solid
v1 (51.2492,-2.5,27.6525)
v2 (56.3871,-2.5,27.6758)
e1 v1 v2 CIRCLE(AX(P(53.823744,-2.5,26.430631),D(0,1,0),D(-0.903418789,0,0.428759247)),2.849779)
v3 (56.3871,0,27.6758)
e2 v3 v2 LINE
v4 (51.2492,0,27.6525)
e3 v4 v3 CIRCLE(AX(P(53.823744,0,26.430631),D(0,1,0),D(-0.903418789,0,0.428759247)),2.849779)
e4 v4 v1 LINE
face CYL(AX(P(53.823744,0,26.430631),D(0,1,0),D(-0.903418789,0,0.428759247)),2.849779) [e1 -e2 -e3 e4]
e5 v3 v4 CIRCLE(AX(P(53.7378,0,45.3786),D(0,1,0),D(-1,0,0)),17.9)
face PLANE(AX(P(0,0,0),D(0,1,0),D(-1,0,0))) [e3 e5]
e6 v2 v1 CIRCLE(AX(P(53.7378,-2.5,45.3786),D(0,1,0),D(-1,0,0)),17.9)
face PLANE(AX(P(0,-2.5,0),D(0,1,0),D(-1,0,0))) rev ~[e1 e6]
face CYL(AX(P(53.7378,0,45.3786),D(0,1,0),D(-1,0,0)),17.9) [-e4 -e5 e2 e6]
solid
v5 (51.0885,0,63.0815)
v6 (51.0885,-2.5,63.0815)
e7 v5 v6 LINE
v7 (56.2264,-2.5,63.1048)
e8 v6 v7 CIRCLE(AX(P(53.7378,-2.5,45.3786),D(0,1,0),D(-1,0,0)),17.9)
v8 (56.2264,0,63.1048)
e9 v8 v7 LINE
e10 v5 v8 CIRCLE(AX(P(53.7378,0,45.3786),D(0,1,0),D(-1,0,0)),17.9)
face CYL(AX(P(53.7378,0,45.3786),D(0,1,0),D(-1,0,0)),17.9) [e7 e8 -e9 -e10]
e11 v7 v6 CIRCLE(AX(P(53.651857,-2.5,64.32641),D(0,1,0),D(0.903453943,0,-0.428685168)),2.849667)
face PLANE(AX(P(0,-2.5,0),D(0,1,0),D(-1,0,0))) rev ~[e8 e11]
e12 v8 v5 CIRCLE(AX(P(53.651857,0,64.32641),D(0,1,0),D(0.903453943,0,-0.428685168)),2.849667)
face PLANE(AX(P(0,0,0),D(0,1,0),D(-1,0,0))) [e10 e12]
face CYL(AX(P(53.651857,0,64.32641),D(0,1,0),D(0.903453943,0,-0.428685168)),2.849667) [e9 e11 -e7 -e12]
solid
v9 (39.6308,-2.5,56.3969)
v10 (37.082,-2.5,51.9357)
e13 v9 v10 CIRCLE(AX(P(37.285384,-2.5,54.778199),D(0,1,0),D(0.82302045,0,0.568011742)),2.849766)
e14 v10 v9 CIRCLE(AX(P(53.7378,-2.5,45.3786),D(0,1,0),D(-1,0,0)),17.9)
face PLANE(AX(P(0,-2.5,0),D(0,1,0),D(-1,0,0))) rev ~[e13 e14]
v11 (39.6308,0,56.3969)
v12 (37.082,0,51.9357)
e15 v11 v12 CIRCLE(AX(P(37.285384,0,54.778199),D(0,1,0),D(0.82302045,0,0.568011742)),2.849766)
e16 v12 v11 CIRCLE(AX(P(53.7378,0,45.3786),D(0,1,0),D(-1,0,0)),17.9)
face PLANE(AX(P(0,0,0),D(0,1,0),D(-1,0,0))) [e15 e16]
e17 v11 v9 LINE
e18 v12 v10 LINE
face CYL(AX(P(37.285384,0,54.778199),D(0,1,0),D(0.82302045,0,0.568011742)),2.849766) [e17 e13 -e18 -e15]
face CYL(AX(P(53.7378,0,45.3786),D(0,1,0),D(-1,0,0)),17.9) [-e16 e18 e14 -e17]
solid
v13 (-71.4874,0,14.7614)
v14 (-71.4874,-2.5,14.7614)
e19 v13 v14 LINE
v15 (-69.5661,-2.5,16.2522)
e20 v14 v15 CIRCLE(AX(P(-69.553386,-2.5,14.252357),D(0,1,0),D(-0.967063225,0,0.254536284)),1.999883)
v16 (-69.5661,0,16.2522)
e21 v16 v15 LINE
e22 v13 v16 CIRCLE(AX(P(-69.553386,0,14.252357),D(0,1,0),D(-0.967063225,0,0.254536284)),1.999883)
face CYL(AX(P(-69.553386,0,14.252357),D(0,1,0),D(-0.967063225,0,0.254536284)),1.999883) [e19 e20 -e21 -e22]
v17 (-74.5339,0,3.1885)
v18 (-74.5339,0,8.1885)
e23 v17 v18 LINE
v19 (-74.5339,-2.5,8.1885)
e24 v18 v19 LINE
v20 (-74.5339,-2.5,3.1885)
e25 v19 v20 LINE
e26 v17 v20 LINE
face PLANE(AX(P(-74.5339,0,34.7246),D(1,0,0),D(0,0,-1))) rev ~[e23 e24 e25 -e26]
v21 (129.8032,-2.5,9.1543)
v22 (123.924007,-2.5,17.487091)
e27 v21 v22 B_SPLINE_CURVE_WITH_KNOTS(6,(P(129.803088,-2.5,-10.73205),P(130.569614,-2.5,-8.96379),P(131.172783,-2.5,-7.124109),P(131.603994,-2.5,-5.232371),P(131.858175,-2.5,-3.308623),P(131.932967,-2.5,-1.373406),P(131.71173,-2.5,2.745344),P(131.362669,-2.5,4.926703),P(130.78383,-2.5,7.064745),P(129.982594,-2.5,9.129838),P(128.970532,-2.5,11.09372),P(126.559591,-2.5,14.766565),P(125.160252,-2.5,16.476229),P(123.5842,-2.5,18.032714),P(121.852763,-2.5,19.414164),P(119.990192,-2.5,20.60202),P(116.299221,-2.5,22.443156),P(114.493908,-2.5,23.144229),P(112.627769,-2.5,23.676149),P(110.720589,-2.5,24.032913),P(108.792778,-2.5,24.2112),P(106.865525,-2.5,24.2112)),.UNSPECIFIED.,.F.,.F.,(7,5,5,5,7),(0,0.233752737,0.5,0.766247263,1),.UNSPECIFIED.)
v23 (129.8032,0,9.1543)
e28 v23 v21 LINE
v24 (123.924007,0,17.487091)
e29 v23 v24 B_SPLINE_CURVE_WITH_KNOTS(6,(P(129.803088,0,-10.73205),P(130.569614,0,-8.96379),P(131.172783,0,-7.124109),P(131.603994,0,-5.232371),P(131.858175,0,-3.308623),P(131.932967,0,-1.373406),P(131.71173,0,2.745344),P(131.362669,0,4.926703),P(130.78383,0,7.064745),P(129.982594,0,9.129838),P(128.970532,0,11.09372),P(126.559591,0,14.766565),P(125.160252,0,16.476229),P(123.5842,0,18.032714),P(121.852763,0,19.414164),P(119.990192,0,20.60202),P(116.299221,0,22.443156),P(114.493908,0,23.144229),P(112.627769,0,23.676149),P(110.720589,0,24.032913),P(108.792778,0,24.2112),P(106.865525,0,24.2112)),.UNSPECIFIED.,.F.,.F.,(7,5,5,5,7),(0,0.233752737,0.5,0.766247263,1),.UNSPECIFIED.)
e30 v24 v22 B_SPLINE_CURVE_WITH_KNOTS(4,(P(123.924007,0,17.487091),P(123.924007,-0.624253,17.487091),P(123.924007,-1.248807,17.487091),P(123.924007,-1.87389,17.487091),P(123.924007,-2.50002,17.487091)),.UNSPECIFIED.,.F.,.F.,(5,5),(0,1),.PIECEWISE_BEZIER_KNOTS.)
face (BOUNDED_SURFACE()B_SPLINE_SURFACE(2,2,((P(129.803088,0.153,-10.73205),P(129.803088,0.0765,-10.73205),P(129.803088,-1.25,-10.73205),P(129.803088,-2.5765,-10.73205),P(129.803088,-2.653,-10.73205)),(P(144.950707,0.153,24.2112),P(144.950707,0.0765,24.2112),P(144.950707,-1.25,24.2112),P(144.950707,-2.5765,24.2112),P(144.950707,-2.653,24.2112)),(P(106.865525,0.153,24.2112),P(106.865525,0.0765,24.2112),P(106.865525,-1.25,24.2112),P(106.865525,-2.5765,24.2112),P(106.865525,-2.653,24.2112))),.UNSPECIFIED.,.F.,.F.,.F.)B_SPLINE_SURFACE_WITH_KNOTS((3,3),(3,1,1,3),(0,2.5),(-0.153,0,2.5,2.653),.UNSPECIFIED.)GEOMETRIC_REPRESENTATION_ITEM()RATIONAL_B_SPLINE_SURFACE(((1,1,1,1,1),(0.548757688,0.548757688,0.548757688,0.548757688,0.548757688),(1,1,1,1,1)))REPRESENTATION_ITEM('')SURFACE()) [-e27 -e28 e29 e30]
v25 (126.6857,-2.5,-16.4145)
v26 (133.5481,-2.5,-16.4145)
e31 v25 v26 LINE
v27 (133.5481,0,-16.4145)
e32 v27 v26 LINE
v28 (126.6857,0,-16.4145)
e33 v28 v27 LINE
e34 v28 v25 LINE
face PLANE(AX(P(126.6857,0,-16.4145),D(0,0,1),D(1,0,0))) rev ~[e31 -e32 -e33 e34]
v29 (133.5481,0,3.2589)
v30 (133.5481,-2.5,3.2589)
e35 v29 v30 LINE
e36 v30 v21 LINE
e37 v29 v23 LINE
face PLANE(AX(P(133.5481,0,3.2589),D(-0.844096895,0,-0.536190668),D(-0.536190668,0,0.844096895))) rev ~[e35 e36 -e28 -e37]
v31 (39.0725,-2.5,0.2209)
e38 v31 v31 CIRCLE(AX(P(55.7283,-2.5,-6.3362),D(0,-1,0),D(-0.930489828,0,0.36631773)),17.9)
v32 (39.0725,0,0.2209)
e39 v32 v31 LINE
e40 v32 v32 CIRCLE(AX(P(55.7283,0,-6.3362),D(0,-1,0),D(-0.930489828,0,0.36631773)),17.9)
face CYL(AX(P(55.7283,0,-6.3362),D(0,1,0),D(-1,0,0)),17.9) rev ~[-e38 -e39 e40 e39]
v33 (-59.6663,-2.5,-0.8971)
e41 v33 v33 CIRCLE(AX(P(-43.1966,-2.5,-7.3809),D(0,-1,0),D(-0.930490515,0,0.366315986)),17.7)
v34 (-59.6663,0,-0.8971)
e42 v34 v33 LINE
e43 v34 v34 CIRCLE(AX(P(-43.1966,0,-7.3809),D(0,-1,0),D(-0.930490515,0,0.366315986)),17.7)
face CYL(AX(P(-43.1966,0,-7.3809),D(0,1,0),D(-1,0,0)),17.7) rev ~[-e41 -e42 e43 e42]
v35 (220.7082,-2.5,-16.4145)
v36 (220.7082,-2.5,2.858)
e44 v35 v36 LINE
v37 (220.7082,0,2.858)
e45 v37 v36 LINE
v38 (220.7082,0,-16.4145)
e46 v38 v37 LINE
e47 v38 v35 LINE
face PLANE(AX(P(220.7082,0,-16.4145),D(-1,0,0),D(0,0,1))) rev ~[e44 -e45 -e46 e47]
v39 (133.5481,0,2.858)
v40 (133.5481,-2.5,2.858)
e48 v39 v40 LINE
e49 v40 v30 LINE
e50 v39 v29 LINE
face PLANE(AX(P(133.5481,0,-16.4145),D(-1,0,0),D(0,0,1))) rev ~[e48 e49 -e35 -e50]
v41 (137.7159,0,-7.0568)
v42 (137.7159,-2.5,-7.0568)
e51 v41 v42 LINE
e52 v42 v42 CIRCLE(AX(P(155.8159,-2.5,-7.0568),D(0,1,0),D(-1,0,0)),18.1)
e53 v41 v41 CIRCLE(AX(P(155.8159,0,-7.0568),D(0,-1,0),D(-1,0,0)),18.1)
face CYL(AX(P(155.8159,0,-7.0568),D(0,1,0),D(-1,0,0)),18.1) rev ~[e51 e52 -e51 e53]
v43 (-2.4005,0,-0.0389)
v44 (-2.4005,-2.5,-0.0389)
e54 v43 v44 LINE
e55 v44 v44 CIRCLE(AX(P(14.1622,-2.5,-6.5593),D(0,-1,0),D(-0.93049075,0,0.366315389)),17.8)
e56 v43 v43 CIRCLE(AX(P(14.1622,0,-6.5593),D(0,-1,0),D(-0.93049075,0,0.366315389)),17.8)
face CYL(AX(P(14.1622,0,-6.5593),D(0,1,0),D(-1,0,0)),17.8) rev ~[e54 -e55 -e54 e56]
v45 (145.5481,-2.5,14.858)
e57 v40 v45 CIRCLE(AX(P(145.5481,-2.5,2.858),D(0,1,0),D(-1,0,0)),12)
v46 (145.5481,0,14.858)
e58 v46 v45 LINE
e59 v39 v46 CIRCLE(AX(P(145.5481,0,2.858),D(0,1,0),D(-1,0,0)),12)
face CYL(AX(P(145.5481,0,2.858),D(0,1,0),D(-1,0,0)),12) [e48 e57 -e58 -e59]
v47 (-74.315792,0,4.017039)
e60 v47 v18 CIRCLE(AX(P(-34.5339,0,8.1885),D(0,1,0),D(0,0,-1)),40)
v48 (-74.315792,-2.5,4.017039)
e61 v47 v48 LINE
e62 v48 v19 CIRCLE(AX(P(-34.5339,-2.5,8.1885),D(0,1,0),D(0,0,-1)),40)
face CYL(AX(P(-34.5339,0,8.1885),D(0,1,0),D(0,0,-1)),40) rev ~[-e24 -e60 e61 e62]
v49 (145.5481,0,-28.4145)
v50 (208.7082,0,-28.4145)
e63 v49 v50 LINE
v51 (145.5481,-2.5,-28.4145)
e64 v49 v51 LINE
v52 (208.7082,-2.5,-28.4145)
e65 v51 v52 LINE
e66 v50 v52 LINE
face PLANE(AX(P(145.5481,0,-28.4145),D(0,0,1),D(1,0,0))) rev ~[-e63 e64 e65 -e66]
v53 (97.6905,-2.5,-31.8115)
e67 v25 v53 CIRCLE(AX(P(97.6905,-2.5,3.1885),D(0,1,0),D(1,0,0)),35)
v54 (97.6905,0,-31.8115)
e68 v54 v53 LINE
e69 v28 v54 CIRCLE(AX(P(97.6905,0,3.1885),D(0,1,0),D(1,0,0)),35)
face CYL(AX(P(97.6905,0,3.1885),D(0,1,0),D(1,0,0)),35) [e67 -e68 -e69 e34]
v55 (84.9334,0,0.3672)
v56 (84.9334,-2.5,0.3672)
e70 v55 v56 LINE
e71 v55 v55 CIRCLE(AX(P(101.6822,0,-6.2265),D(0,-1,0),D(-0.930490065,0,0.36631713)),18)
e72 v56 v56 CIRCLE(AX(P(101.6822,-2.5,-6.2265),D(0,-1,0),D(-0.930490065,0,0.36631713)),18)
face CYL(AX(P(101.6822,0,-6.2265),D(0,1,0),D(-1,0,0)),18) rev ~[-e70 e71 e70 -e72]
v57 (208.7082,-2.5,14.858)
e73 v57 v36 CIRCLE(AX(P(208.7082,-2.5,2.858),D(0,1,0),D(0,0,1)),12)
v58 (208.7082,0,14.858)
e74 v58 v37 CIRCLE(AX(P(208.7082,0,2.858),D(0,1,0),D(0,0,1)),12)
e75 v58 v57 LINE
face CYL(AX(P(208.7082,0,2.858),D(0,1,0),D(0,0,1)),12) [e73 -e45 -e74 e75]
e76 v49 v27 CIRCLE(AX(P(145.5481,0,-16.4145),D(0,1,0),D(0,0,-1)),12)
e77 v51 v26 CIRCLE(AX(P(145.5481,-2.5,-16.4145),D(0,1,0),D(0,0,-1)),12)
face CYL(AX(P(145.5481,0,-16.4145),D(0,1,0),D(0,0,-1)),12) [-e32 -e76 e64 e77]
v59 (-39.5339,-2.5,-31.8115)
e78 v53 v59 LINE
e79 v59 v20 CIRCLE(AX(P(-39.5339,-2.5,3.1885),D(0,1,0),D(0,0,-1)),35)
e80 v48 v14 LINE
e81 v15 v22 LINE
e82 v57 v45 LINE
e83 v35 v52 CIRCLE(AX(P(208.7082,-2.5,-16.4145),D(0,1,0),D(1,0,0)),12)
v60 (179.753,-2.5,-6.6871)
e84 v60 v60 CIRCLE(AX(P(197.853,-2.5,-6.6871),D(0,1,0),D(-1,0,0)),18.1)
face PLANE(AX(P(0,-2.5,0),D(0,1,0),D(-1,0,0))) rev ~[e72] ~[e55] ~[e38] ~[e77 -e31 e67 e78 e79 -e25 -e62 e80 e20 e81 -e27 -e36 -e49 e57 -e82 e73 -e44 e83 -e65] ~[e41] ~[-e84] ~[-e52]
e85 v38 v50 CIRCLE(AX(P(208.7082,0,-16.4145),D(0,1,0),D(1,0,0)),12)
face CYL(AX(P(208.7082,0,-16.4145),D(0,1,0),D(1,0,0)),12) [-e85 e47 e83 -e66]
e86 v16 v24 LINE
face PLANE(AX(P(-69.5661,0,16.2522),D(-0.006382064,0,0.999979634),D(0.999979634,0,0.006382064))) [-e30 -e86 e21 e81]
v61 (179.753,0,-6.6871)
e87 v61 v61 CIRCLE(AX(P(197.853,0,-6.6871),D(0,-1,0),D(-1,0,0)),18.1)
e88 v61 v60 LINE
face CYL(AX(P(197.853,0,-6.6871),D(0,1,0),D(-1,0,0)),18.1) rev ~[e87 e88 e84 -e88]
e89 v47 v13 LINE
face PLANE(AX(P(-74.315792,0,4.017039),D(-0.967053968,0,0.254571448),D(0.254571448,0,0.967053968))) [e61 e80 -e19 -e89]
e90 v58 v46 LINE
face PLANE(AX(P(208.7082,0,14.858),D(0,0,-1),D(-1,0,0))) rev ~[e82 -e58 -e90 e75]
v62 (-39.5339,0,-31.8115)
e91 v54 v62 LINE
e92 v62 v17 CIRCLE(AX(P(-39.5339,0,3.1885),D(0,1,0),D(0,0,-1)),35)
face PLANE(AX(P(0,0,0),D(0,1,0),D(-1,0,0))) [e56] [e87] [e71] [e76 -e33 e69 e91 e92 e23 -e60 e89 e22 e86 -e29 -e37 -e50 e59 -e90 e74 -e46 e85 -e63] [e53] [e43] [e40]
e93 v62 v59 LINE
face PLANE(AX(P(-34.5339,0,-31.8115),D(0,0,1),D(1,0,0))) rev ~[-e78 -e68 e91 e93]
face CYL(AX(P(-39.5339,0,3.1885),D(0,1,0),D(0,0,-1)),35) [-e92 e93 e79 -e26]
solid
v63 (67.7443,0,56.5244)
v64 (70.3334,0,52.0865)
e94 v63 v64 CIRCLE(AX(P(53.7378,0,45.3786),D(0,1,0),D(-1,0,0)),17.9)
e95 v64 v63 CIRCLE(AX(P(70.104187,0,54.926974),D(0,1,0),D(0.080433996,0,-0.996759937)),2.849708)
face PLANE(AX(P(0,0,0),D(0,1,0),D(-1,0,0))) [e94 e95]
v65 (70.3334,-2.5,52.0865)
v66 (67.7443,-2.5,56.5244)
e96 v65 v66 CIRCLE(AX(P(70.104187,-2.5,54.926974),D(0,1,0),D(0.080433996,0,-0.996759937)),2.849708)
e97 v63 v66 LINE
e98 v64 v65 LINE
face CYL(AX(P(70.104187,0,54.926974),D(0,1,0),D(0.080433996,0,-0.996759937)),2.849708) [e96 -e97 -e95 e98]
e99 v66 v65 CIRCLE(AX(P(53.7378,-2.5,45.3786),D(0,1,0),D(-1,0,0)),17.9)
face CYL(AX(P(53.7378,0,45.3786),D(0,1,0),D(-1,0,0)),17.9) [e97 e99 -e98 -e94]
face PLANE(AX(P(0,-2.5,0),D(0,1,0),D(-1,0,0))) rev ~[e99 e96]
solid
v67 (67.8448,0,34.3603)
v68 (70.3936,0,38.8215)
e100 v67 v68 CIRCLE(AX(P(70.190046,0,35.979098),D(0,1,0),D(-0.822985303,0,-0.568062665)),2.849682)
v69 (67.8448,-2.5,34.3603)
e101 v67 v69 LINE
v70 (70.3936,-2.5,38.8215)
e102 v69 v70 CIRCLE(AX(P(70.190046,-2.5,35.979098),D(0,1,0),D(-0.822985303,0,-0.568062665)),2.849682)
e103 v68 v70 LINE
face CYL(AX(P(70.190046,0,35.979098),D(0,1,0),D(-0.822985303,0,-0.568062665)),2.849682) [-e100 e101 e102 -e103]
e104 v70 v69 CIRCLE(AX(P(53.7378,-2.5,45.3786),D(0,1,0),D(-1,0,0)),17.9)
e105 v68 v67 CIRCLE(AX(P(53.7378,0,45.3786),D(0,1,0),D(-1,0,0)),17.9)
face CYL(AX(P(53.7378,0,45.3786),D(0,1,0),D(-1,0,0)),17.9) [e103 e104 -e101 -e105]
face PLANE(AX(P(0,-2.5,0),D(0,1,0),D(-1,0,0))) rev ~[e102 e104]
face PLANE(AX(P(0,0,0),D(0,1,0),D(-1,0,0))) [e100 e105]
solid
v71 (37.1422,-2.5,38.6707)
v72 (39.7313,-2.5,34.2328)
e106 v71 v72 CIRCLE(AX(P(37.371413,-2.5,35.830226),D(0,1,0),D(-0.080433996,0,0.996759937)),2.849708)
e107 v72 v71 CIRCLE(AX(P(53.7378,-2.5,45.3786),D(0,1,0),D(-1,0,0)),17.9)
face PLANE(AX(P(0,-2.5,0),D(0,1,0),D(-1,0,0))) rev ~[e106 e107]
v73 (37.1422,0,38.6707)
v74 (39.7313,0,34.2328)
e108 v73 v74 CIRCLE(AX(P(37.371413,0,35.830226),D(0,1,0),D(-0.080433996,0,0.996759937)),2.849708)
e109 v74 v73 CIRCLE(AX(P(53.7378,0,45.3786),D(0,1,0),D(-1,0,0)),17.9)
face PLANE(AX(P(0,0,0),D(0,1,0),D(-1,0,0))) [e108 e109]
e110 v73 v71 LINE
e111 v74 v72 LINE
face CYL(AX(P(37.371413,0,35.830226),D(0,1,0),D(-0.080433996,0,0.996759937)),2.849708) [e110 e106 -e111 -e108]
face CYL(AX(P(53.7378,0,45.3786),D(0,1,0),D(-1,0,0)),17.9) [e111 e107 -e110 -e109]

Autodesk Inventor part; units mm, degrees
ref_plane "YZ Plane" through (0, 0, 0) normal (1, 0, 0) x (0, 1, 0)
ref_plane "XZ Plane" through (0, 0, 0) normal (0, 1, 0) x (-1, 0, 0)
ref_plane "XY Plane" through (0, 0, 0) normal (0, 0, 1) x (1, 0, 0)
sketch "BASEsc" plane through (0, 0, 0) normal (0, 1, 0) x (-1, 0, 0)
  arc A0 (-30.7364, -0.0681) -> (-28.0904, 4.5242) centre (-30.3216, 2.7513) ccw
  arc A1 (-16.8277, 11.04) -> (-11.5277, 11.0446) centre (-14.1786, 12.0904) ccw
  arc A2 (-11.4967, -24.1586) -> (-16.7967, -24.1633) centre (-14.1458, -25.2091) ccw
  arc A3 (-0.2535, 4.5487) -> (2.4005, -0.0389) centre (1.9807, 2.7798) ccw
  arc A4 (-28.0709, -17.6674) -> (-30.7249, -13.0798) centre (-30.3051, -15.8984) ccw
  circle A5 centre (-14.1622, -6.5593) radius 17.8
  arc A6 (2.412, -13.0506) -> (-0.234, -17.6429) centre (1.9972, -15.87) ccw
  circle A7 centre (-55.7283, -6.3362) radius 17.9
  arc A8 (-58.3938, 11.2631) -> (-53.0938, 11.2678) centre (-55.7447, 12.3136) ccw
  arc A9 (-41.8196, 4.7719) -> (-39.1656, 0.1843) centre (-39.5854, 3.0029) ccw
  arc A10 (-72.3025, 0.1551) -> (-69.6565, 4.7474) centre (-71.8877, 2.9745) ccw
  arc A11 (-69.637, -17.4442) -> (-72.291, -12.8566) centre (-71.8712, -15.6753) ccw
  arc A12 (-53.0767, -24.0387) -> (-58.3776, -24.039) centre (-55.7271, -25.0859) ccw
  arc A13 (-39.1541, -12.8274) -> (-41.8001, -17.4197) centre (-39.569, -15.6468) ccw
  circle A14 centre (-101.6822, -6.2265) radius 18
  arc A15 (-99.0445, -24.0322) -> (-104.3463, -24.0282) centre (-101.6962, -25.0761) ccw
  arc A16 (-39.0717, -12.8911) -> (-41.7218, -17.4819) centre (-39.49, -15.71) ccw
  arc A17 (-41.7233, 4.8114) -> (-39.0725, 0.2209) centre (-39.4912, 3.0397) ccw
  arc A18 (-58.3799, 11.3664) -> (-53.079, 11.3667) centre (-55.7295, 12.4135) ccw
  arc A19 (-72.3849, 0.2188) -> (-69.7348, 4.8096) centre (-71.9666, 3.0377) ccw
  arc A20 (-69.7334, -17.4837) -> (-72.3841, -12.8932) centre (-71.9654, -15.7121) ccw
  circle A21 centre (43.1966, -7.3809) radius 17.7
  arc A22 (45.8761, -24.8769) -> (40.5769, -24.886) centre (43.2283, -25.9306) ccw
  circle A23 centre (45.2732, 42.9601) radius 17.7
  arc A24 (47.7889, 25.4398) -> (42.6535, 25.455) centre (45.2175, 24.2112) ccw
  arc A25 (-51.2492, 27.6525) -> (-56.3871, 27.6758) centre (-53.8237, 26.4307) ccw
  circle A26 centre (-53.7378, 45.3786) radius 17.9
  arc A27 (-84.9432, -12.845) -> (-87.5975, -17.4345) centre (-85.365, -15.6634) ccw
  arc A28 (-87.5809, 4.9607) -> (-84.9334, 0.3672) centre (-85.351, 3.1862) ccw
  arc A29 (-104.3199, 11.5792) -> (-99.0181, 11.5753) centre (-101.6682, 12.6231) ccw
  arc A30 (-118.4212, 0.3921) -> (-115.7669, 4.9816) centre (-117.9994, 3.2104) ccw
  arc A31 (-115.7835, -17.4136) -> (-118.431, -12.8202) centre (-118.0134, -15.6392) ccw
  arc A32 (-37.1422, 38.6707) -> (-39.7313, 34.2328) centre (-37.3714, 35.8302) ccw
  arc A33 (-39.6308, 56.3969) -> (-37.082, 51.9357) centre (-37.2854, 54.7782) ccw
  arc A34 (-56.2264, 63.1048) -> (-51.0885, 63.0815) centre (-53.6518, 64.3265) ccw
  arc A35 (-70.3334, 52.0865) -> (-67.7443, 56.5244) centre (-70.1042, 54.927) ccw
  arc A36 (-67.8448, 34.3603) -> (-70.3936, 38.8215) centre (-70.1901, 35.9791) ccw
  arc A37 (61.7041, 36.3785) -> (59.1232, 31.9388) centre (61.4824, 33.5374) ccw
  arc A38 (59.1885, 53.8989) -> (61.7429, 49.4439) centre (61.5381, 52.2863) ccw
  arc A39 (42.7576, 60.4804) -> (47.8929, 60.4652) centre (45.3289, 61.7089) ccw
  arc A40 (28.8424, 49.5417) -> (31.4233, 53.9813) centre (29.0641, 52.3828) ccw
  arc A41 (31.358, 32.0213) -> (28.8036, 36.4763) centre (29.0084, 33.6339) ccw
  arc A42 (59.6883, -13.8084) -> (57.0466, -18.4022) centre (59.2769, -16.6283) ccw
  arc A43 (57.0088, 3.6876) -> (59.6663, -0.8971) centre (59.2452, 1.9214) ccw
  arc A44 (40.5171, 10.1151) -> (45.8163, 10.1242) centre (43.1649, 11.1688) ccw
  arc A45 (26.7049, -0.9534) -> (29.3466, 3.6404) centre (27.1162, 1.8665) ccw
  arc A46 (29.3843, -18.4494) -> (26.7269, -13.8647) centre (27.1479, -16.6832) ccw
  line L0 (39.5339, -31.8115) -> (-97.6905, -31.8115)
  line L1 (-132.6905, 3.1885) -> (-132.6905, 34.7246)
  line L2 (-76.3868, 69.7246) -> (-21.7967, 69.7246)
  line L3 (74.5339, 34.7246) -> (74.5339, 3.1885)
  arc A47 (34.5339, -31.8115) -> (74.5339, 8.1885) centre (34.5339, 8.1885) ccw
  arc A48 (74.5339, 34.7246) -> (39.5339, 69.7246) centre (39.5339, 34.7246) ccw
  arc A49 (39.5339, -31.8115) -> (74.5339, 3.1885) centre (39.5339, 3.1885) ccw
  arc A50 (-132.6905, 3.1885) -> (-97.6905, -31.8115) centre (-97.6905, 3.1885) ccw
  arc A51 (-97.6905, 69.7246) -> (-132.6905, 34.7246) centre (-97.6905, 34.7246) ccw
  line L4 (-86.3868, 24.2112) -> (-132.6905, 24.2112)
  line L5 (-132.6905, 24.2112) -> (-132.6905, 69.7246)
  line L6 (-132.6905, 69.7246) -> (-81.3868, 69.7246)
  line L7 (-81.3868, 64.7246) -> (-81.3868, 29.2112)
  line L8 (14.5191, 69.7246) -> (-16.7967, 69.7246)
  line L9 (-16.7967, 64.7246) -> (-16.7967, 23.9565)
  line L10 (-11.7967, 18.9565) -> (9.5191, 18.9565)
  line L11 (14.5191, 23.9565) -> (14.5191, 69.7246)
  arc A52 (9.5191, 18.9565) -> (14.5191, 23.9565) centre (9.5191, 23.9565) ccw
  arc A53 (-16.7967, 23.9565) -> (-11.7967, 18.9565) centre (-11.7967, 23.9565) ccw
  arc A54 (-86.3868, 24.2112) -> (-81.3868, 29.2112) centre (-86.3868, 29.2112) ccw
  arc A55 (-76.3868, 69.7246) -> (-81.3868, 64.7246) centre (-76.3868, 64.7246) ccw
  arc A56 (-16.7967, 64.7246) -> (-21.7967, 69.7246) centre (-21.7967, 64.7246) ccw
  line L12 (39.5339, 69.7246) -> (-21.7967, 69.7246)
  line L13 (74.5339, 3.1885) -> (71.4874, 14.7614)
  line L14 (69.5661, 16.2522) -> (-124.7088, 17.4921)
  line L15 (-126.5328, 16.3402) -> (-132.6905, 3.1885)
  arc A57 (71.4874, 14.7614) -> (69.5661, 16.2522) centre (69.5533, 14.2523) ccw
  arc A58 (-124.7088, 17.4921) -> (-126.5328, 16.3402) centre (-124.7215, 15.4921) ccw
  circle A59 centre (-155.8159, -7.0568) radius 18.1
  arc A60 (-153.1971, -24.9663) -> (-158.4461, -24.9646) centre (-155.8219, -25.965) ccw
  arc A61 (-138.9964, -13.7436) -> (-141.6223, -18.2885) centre (-139.4438, -16.5161) ccw
  arc A62 (-141.6152, 4.166) -> (-138.9922, -0.3806) centre (-139.4379, 2.3922) ccw
  arc A63 (-158.4347, 10.8528) -> (-153.1858, 10.8511) centre (-155.8099, 11.8515) ccw
  arc A64 (-172.6354, -0.3699) -> (-170.0095, 4.175) centre (-172.188, 2.4026) ccw
  arc A65 (-170.0166, -18.2795) -> (-172.6397, -13.7329) centre (-172.194, -16.5057) ccw
  arc A66 (-183.6523, 4.5357) -> (-181.0293, -0.0109) centre (-181.475, 2.7619) ccw
  arc A67 (-200.4718, 11.2225) -> (-195.2229, 11.2208) centre (-197.847, 12.2212) ccw
  arc A68 (-214.6725, -0.0003) -> (-212.0466, 4.5446) centre (-214.2251, 2.7723) ccw
  arc A69 (-212.0537, -17.9098) -> (-214.6768, -13.3632) centre (-214.2311, -16.136) ccw
  arc A70 (-195.2342, -24.5966) -> (-200.4832, -24.595) centre (-197.859, -25.5954) ccw
  circle A71 centre (-197.853, -6.6871) radius 18.1
  arc A72 (-181.0335, -13.3739) -> (-183.6594, -17.9188) centre (-181.481, -16.1464) ccw
  line L16 (-145.5481, -28.4145) -> (-208.7082, -28.4145)
  line L17 (-220.7082, -16.4145) -> (-220.7082, 2.858)
  line L18 (-208.7082, 14.858) -> (-145.5481, 14.858)
  line L19 (-133.5481, 2.858) -> (-133.5481, -16.4145)
  arc A73 (-145.5481, -28.4145) -> (-133.5481, -16.4145) centre (-145.5481, -16.4145) ccw
  arc A74 (-220.7082, -16.4145) -> (-208.7082, -28.4145) centre (-208.7082, -16.4145) ccw
  arc A75 (-208.7082, 14.858) -> (-220.7082, 2.858) centre (-208.7082, 2.858) ccw
  arc A76 (-133.5481, 2.858) -> (-145.5481, 14.858) centre (-145.5481, 2.858) ccw
  point P0 (0, 0)
  point P1 (-14.1467, -24.3593)
  point P2 (-27.8531, 1.3272)
  point P3 (-14.1777, 9.2407)
  point P4 (-14.1467, -22.3593)
  point P5 (-0.4868, 1.3541)
  point P6 (-27.8376, -14.4728)
  point P7 (-0.4712, -14.4459)
  point P8 (-41.5661, 0.2232)
  point P9 (-55.7127, -24.2361)
  point P10 (-55.7438, 9.4638)
  point P11 (-42.0529, 1.5773)
  point P12 (-69.4193, 1.5504)
  point P13 (-69.4038, -14.2496)
  point P14 (-55.7127, -22.2361)
  point P15 (-42.0374, -14.2227)
  point P16 (-87.52, 0.3329)
  point P17 (-101.6665, -24.2265)
  point P18 (-101.6977, 9.5735)
  point P19 (-88.0068, 1.6869)
  point P20 (-115.3732, 1.6601)
  point P21 (-115.3576, -14.1399)
  point P22 (-101.6665, -22.2265)
  point P23 (-87.9913, -14.1131)
  point P24 (-41.9507, -14.2726)
  point P25 (-41.9663, 1.6273)
  point P26 (-55.7439, 9.5638)
  point P27 (-69.5059, 1.6003)
  point P28 (-69.4903, -14.2997)
  point P29 (57.3588, -0.8216)
  point P30 (29.5211, -15.2943)
  point P31 (56.872, 0.5325)
  point P32 (43.212, -25.0809)
  point P33 (29.5056, 0.5057)
  point P34 (43.1811, 8.4191)
  point P35 (56.8875, -15.2675)
  point P36 (43.212, -23.0809)
  point P37 (59.4354, 49.5194)
  point P38 (31.5978, 35.0467)
  point P39 (58.9487, 50.8735)
  point P40 (45.2887, 25.2601)
  point P41 (31.5823, 50.8467)
  point P42 (45.2577, 58.7601)
  point P43 (58.9642, 35.0735)
  point P44 (45.2887, 27.0601)
  point P45 (-40.0468, 37.492)
  point P46 (-39.5756, 51.9379)
  point P47 (-40.0623, 53.292)
  point P48 (-53.7222, 29.2786)
  point P49 (-53.7222, 27.4786)
  point P50 (-53.7533, 61.1786)
  point P51 (-67.4287, 53.2652)
  point P52 (-67.4132, 37.4652)
  point P53 (-87.818, -14.2129)
  point P54 (-87.8336, 1.7871)
  point P55 (-101.6979, 9.7735)
  point P56 (-115.5464, 1.7599)
  point P57 (-115.5308, -14.2401)
  point P58 (-39.787, 37.3421)
  point P59 (-39.8026, 53.4421)
  point P60 (-53.7534, 61.4786)
  point P61 (-67.6886, 53.4151)
  point P62 (-67.673, 37.3151)
  point P63 (59.0507, 35.0234)
  point P64 (59.0353, 50.9234)
  point P65 (45.2578, 58.8601)
  point P66 (31.4957, 50.8967)
  point P67 (31.5111, 34.9967)
  point P68 (56.8009, -15.2175)
  point P69 (56.7855, 0.4824)
  point P70 (43.1812, 8.3191)
  point P71 (29.5923, 0.4557)
  point P72 (29.6077, -15.2442)
  point P73 (-97.6905, 69.7246)
  point P74 (-16.7967, 69.7246)
  point P75 (-67.8448, 34.3603)
  point P76 (-39.7313, 34.2328)
  point P77 (-37.1422, 38.6707)
  point P78 (-37.082, 51.9357)
  point P79 (-51.0885, 63.0815)
  point P80 (-67.7443, 56.5244)
  point P81 (-70.3334, 52.0865)
  point P82 (-118.431, -12.8202)
  point P83 (-115.7835, -17.4136)
  point P84 (-87.5975, -17.4345)
  point P85 (-84.9334, 0.3672)
  point P86 (-87.5809, 4.9607)
  point P87 (-104.3199, 11.5792)
  point P88 (-115.7669, 4.9816)
  point P89 (-118.4212, 0.3921)
  point P90 (-72.3841, -12.8932)
  point P91 (-39.0725, 0.2209)
  point P92 (-41.7233, 4.8114)
  point P93 (-53.079, 11.3667)
  point P94 (-58.3799, 11.3664)
  point P95 (-69.7348, 4.8096)
  point P96 (-72.3849, 0.2188)
  point P97 (-0.234, -17.6429)
  point P98 (2.412, -13.0506)
  point P99 (2.4005, -0.0389)
  point P100 (-0.2535, 4.5487)
  point P101 (-11.5277, 11.0446)
  point P102 (-16.8277, 11.04)
  point P103 (-28.0904, 4.5242)
  point P104 (-30.7364, -0.0681)
  point P105 (-28.0709, -17.6674)
  point P106 (29.3843, -18.4494)
  point P107 (59.6883, -13.8084)
  point P108 (59.6663, -0.8971)
  point P109 (57.0088, 3.6876)
  point P110 (40.5171, 10.1151)
  point P111 (29.3466, 3.6404)
  point P112 (26.7049, -0.9534)
  point P113 (47.8929, 60.4652)
  point P114 (31.4233, 53.9813)
  point P115 (28.8424, 49.5417)
  point P116 (74.3158, 4.017)
  point P117 (-141.6537, -0.4974)
  point P118 (-169.4914, -14.9702)
  point P119 (-142.1405, 0.8567)
  point P120 (-155.7964, -25.1567)
  point P121 (-169.5069, 0.8298)
  point P122 (-155.8314, 8.7432)
  point P123 (-142.125, -14.9433)
  point P124 (-155.7988, -23.1567)
  point P125 (-141.8644, -15.092)
  point P126 (-141.8814, 1.008)
  point P127 (-155.833, 9.0432)
  point P128 (-169.7674, 0.9785)
  point P129 (-169.7504, -15.1215)
  point P130 (-151.8242, 2.3582)
  point P131 (-183.6908, -0.1277)
  point P132 (-184.1776, 1.2264)
  point P133 (-211.5285, -14.6005)
  point P134 (-183.9186, 1.3777)
  point P135 (-197.8701, 9.4129)
  point P136 (-211.8046, 1.3481)
  point P137 (-211.7875, -14.7518)
  point P138 (-184.1621, -14.5736)
  point P139 (-197.8685, 9.1129)
  point P140 (-197.8335, -24.7871)
  point P141 (-197.836, -22.7871)
  point P142 (-211.544, 1.1995)
  point P143 (-183.9015, -14.7223)
  point P144 (-193.8613, 2.7279)
  dimension "d0" = 35.6
  dimension "d1" = 2
  dimension "d2" = 35.8
  dimension "d3" = 2
  dimension "d4" = 36
  dimension "d5" = 2
  dimension "d8" = 360
  dimension "d10" = 35.4
  dimension "d11" = 2
  dimension "d12" = 35.4
  dimension "d13" = 1.8
  dimension "d14" = 35.8
  dimension "d15" = 1.8
  dimension "d18" = 360
  dimension "d22" = 360
  dimension "d26" = 360
  dimension "d30" = 360
  dimension "d32" = 40
  dimension "d33" = 35
  dimension "d34" = 35
  dimension "d35" = 35
  dimension "d36" = 5
  dimension "d46" = 2
  dimension "d51" = 36.2
  dimension "d52" = 2
  dimension "d53" = 360
  dimension "d56" = 36.2
  dimension "d57" = 2
  dimension "d58" = 360
  dimension "d59" = 12
extrude "押し出し1" add sketch "BASEsc" against normal blind 2.5 contours A5 A0 | A0 A5 A1 A3 A6 A2 A4 | A4 A5 | A5 A1 | A2 A5 | A5 A3 | A6 A5 | A7 A16 A12 A20 A19 A18 A17 | A17 A7 | A7 A16 | A18 A7 | A7 A12 | A19 A7 | A7 A20 | A14 A27 A15 A31 A30 A29 A28 | A28 A14 | A14 A27 | A29 A14 | A14 A15 | A30 A14 | A14 A31 | A21 A42 A22 A46 A45 A44 A43 | A43 A21 | A21 A42 | A44 A21 | A21 A22 | A45 A21 | A21 A46 | A23 A37 A24 A41 A40 A39 A38 | A38 A23 | A23 A37 | A39 A23 | A23 A24 | A40 A23 | A23 A41 | A26 A25 | A25 A26 A36 A35 A34 A33 A32 | A32 A26 | A26 A36 | A26 A35 | A33 A26 | A26 A34 | L5 L6 A51 | L0 A47 L13 A49 | L0 A50 L15 A58 L14 A57 L13 A47 | L13 A47 L3 | L13 A57 L14 A58 L15 L1 L4 A54 L7 A55 L2 A56 L9 A53 L10 A52 L11 L12 A48 L3 A47 | L11 A52 L10 A53 L9 A56 L12 L8
extrude "押し出し2" cut sketch "BASEsc" against normal through all contours A0 A5 A1 A3 A6 A2 A4 | A7 A16 A12 A20 A19 A18 A17 | A14 A27 A15 A31 A30 A29 A28 | A21 A42 A22 A46 A45 A44 A43 | A23 A37 A24 A41 A40 A39 A38 | A25 A26 A36 A35 A34 A33 A32
extrude "押し出し3" cut sketch "BASEsc" against normal blind 10 contours L5 L6 A51 | L11 A52 L10 A53 L9 A56 L12 L8
fillet "フィレット1" radius 25 1 edges at (132.6905, -1.25, 24.2112)
extrude "押し出し4" cut sketch "BASEsc" against normal blind 10 contours A5 A0 | A4 A5 | A5 A1 | A2 A5 | A5 A3 | A6 A5 | A17 A7 | A7 A16 | A18 A7 | A7 A12 | A19 A7 | A7 A20 | A28 A14 | A14 A27 | A29 A14 | A14 A15 | A30 A14 | A14 A31 | A43 A21 | A21 A42 | A44 A21 | A21 A22 | A45 A21 | A21 A46 | A38 A23 | A23 A37 | A39 A23 | A23 A24 | A40 A23 | A23 A41
extrude "押し出し5" cut sketch "BASEsc" against normal blind 10 contours L13 A57 L14 A58 L15 L1 L4 A54 L7 A55 L2 A56 L9 A53 L10 A52 L11 L12 A48 L3 A47
extrude "押し出し6" add sketch "BASEsc" against normal blind 2.5 contours L16 A74 L17 A75 L18 A76 L19 A73
sketch "スケッチ2" plane through (0, 0, 0) normal (0, 1, 0) x (1, 0, 0)
  arc A0 (129.8032, 10.7318) -> (97.6905, 31.8115) centre (97.6905, -3.1885) ccw projected
  line L0 (126.6857, 16.4145) -> (133.5481, 16.4145)
  line L1 (133.5481, 16.4145) -> (133.5481, -3.2589)
  line L2 (133.5481, -3.2589) -> (129.8032, -9.1543)
  arc A1 (123.9241, -17.4871) -> (129.8032, 10.7318) centre (106.8656, 0.7888) ccw projected
  circle A2 centre (101.6822, 6.2265) radius 18 projected
  circle A3 centre (55.7283, 6.3362) radius 17.9 projected
  circle A4 centre (-43.1966, 7.3809) radius 17.7 projected
  circle A5 centre (14.1622, 6.5593) radius 17.8 projected
  arc A6 (-74.3158, -4.017) -> (-74.5339, -8.1885) centre (-34.5339, -8.1885) ccw projected
  line L3 (-74.3158, -4.017) -> (-71.4874, -14.7614) projected
  arc A7 (-71.4874, -14.7614) -> (-69.5661, -16.2522) centre (-69.5533, -14.2523) ccw projected
  line L4 (-69.5661, -16.2522) -> (123.9241, -17.4871) projected
  arc A8 (123.9241, -17.4871) -> (129.8032, 10.7318) centre (106.8656, 0.7888) ccw projected
  arc A9 (129.8032, 10.7318) -> (97.6905, 31.8115) centre (97.6905, -3.1885) ccw projected
  line L5 (97.6905, 31.8115) -> (-39.5339, 31.8115) projected
  arc A10 (-39.5339, 31.8115) -> (-74.5339, -3.1885) centre (-39.5339, -3.1885) ccw projected
  line L6 (-74.5339, -3.1885) -> (-74.5339, -8.1885) projected
  point P0 (0, 0)
extrude "押し出し7" add sketch "スケッチ2" against normal blind 2.5 contours A0 L0 L1 L2 A1
equation "\"BendRadius\" = Thickness"
equation "\"BendReliefWidth\" = Thickness"
equation "\"BendReliefDepth\" = 0.5 * Thickness"
equation "\"CornerReliefSize\" = 4 * Thickness"
equation "\"MinimumRemnant\" = 2 * Thickness"
equation "\"TransitionRadius\" = BendRadius"
equation "\"JacobiRadiusSize\" = BendRadius"
equation "\"GapSize\" = Thickness"
equation "\"Thickness\" = 0.5"
properties part number "template"
